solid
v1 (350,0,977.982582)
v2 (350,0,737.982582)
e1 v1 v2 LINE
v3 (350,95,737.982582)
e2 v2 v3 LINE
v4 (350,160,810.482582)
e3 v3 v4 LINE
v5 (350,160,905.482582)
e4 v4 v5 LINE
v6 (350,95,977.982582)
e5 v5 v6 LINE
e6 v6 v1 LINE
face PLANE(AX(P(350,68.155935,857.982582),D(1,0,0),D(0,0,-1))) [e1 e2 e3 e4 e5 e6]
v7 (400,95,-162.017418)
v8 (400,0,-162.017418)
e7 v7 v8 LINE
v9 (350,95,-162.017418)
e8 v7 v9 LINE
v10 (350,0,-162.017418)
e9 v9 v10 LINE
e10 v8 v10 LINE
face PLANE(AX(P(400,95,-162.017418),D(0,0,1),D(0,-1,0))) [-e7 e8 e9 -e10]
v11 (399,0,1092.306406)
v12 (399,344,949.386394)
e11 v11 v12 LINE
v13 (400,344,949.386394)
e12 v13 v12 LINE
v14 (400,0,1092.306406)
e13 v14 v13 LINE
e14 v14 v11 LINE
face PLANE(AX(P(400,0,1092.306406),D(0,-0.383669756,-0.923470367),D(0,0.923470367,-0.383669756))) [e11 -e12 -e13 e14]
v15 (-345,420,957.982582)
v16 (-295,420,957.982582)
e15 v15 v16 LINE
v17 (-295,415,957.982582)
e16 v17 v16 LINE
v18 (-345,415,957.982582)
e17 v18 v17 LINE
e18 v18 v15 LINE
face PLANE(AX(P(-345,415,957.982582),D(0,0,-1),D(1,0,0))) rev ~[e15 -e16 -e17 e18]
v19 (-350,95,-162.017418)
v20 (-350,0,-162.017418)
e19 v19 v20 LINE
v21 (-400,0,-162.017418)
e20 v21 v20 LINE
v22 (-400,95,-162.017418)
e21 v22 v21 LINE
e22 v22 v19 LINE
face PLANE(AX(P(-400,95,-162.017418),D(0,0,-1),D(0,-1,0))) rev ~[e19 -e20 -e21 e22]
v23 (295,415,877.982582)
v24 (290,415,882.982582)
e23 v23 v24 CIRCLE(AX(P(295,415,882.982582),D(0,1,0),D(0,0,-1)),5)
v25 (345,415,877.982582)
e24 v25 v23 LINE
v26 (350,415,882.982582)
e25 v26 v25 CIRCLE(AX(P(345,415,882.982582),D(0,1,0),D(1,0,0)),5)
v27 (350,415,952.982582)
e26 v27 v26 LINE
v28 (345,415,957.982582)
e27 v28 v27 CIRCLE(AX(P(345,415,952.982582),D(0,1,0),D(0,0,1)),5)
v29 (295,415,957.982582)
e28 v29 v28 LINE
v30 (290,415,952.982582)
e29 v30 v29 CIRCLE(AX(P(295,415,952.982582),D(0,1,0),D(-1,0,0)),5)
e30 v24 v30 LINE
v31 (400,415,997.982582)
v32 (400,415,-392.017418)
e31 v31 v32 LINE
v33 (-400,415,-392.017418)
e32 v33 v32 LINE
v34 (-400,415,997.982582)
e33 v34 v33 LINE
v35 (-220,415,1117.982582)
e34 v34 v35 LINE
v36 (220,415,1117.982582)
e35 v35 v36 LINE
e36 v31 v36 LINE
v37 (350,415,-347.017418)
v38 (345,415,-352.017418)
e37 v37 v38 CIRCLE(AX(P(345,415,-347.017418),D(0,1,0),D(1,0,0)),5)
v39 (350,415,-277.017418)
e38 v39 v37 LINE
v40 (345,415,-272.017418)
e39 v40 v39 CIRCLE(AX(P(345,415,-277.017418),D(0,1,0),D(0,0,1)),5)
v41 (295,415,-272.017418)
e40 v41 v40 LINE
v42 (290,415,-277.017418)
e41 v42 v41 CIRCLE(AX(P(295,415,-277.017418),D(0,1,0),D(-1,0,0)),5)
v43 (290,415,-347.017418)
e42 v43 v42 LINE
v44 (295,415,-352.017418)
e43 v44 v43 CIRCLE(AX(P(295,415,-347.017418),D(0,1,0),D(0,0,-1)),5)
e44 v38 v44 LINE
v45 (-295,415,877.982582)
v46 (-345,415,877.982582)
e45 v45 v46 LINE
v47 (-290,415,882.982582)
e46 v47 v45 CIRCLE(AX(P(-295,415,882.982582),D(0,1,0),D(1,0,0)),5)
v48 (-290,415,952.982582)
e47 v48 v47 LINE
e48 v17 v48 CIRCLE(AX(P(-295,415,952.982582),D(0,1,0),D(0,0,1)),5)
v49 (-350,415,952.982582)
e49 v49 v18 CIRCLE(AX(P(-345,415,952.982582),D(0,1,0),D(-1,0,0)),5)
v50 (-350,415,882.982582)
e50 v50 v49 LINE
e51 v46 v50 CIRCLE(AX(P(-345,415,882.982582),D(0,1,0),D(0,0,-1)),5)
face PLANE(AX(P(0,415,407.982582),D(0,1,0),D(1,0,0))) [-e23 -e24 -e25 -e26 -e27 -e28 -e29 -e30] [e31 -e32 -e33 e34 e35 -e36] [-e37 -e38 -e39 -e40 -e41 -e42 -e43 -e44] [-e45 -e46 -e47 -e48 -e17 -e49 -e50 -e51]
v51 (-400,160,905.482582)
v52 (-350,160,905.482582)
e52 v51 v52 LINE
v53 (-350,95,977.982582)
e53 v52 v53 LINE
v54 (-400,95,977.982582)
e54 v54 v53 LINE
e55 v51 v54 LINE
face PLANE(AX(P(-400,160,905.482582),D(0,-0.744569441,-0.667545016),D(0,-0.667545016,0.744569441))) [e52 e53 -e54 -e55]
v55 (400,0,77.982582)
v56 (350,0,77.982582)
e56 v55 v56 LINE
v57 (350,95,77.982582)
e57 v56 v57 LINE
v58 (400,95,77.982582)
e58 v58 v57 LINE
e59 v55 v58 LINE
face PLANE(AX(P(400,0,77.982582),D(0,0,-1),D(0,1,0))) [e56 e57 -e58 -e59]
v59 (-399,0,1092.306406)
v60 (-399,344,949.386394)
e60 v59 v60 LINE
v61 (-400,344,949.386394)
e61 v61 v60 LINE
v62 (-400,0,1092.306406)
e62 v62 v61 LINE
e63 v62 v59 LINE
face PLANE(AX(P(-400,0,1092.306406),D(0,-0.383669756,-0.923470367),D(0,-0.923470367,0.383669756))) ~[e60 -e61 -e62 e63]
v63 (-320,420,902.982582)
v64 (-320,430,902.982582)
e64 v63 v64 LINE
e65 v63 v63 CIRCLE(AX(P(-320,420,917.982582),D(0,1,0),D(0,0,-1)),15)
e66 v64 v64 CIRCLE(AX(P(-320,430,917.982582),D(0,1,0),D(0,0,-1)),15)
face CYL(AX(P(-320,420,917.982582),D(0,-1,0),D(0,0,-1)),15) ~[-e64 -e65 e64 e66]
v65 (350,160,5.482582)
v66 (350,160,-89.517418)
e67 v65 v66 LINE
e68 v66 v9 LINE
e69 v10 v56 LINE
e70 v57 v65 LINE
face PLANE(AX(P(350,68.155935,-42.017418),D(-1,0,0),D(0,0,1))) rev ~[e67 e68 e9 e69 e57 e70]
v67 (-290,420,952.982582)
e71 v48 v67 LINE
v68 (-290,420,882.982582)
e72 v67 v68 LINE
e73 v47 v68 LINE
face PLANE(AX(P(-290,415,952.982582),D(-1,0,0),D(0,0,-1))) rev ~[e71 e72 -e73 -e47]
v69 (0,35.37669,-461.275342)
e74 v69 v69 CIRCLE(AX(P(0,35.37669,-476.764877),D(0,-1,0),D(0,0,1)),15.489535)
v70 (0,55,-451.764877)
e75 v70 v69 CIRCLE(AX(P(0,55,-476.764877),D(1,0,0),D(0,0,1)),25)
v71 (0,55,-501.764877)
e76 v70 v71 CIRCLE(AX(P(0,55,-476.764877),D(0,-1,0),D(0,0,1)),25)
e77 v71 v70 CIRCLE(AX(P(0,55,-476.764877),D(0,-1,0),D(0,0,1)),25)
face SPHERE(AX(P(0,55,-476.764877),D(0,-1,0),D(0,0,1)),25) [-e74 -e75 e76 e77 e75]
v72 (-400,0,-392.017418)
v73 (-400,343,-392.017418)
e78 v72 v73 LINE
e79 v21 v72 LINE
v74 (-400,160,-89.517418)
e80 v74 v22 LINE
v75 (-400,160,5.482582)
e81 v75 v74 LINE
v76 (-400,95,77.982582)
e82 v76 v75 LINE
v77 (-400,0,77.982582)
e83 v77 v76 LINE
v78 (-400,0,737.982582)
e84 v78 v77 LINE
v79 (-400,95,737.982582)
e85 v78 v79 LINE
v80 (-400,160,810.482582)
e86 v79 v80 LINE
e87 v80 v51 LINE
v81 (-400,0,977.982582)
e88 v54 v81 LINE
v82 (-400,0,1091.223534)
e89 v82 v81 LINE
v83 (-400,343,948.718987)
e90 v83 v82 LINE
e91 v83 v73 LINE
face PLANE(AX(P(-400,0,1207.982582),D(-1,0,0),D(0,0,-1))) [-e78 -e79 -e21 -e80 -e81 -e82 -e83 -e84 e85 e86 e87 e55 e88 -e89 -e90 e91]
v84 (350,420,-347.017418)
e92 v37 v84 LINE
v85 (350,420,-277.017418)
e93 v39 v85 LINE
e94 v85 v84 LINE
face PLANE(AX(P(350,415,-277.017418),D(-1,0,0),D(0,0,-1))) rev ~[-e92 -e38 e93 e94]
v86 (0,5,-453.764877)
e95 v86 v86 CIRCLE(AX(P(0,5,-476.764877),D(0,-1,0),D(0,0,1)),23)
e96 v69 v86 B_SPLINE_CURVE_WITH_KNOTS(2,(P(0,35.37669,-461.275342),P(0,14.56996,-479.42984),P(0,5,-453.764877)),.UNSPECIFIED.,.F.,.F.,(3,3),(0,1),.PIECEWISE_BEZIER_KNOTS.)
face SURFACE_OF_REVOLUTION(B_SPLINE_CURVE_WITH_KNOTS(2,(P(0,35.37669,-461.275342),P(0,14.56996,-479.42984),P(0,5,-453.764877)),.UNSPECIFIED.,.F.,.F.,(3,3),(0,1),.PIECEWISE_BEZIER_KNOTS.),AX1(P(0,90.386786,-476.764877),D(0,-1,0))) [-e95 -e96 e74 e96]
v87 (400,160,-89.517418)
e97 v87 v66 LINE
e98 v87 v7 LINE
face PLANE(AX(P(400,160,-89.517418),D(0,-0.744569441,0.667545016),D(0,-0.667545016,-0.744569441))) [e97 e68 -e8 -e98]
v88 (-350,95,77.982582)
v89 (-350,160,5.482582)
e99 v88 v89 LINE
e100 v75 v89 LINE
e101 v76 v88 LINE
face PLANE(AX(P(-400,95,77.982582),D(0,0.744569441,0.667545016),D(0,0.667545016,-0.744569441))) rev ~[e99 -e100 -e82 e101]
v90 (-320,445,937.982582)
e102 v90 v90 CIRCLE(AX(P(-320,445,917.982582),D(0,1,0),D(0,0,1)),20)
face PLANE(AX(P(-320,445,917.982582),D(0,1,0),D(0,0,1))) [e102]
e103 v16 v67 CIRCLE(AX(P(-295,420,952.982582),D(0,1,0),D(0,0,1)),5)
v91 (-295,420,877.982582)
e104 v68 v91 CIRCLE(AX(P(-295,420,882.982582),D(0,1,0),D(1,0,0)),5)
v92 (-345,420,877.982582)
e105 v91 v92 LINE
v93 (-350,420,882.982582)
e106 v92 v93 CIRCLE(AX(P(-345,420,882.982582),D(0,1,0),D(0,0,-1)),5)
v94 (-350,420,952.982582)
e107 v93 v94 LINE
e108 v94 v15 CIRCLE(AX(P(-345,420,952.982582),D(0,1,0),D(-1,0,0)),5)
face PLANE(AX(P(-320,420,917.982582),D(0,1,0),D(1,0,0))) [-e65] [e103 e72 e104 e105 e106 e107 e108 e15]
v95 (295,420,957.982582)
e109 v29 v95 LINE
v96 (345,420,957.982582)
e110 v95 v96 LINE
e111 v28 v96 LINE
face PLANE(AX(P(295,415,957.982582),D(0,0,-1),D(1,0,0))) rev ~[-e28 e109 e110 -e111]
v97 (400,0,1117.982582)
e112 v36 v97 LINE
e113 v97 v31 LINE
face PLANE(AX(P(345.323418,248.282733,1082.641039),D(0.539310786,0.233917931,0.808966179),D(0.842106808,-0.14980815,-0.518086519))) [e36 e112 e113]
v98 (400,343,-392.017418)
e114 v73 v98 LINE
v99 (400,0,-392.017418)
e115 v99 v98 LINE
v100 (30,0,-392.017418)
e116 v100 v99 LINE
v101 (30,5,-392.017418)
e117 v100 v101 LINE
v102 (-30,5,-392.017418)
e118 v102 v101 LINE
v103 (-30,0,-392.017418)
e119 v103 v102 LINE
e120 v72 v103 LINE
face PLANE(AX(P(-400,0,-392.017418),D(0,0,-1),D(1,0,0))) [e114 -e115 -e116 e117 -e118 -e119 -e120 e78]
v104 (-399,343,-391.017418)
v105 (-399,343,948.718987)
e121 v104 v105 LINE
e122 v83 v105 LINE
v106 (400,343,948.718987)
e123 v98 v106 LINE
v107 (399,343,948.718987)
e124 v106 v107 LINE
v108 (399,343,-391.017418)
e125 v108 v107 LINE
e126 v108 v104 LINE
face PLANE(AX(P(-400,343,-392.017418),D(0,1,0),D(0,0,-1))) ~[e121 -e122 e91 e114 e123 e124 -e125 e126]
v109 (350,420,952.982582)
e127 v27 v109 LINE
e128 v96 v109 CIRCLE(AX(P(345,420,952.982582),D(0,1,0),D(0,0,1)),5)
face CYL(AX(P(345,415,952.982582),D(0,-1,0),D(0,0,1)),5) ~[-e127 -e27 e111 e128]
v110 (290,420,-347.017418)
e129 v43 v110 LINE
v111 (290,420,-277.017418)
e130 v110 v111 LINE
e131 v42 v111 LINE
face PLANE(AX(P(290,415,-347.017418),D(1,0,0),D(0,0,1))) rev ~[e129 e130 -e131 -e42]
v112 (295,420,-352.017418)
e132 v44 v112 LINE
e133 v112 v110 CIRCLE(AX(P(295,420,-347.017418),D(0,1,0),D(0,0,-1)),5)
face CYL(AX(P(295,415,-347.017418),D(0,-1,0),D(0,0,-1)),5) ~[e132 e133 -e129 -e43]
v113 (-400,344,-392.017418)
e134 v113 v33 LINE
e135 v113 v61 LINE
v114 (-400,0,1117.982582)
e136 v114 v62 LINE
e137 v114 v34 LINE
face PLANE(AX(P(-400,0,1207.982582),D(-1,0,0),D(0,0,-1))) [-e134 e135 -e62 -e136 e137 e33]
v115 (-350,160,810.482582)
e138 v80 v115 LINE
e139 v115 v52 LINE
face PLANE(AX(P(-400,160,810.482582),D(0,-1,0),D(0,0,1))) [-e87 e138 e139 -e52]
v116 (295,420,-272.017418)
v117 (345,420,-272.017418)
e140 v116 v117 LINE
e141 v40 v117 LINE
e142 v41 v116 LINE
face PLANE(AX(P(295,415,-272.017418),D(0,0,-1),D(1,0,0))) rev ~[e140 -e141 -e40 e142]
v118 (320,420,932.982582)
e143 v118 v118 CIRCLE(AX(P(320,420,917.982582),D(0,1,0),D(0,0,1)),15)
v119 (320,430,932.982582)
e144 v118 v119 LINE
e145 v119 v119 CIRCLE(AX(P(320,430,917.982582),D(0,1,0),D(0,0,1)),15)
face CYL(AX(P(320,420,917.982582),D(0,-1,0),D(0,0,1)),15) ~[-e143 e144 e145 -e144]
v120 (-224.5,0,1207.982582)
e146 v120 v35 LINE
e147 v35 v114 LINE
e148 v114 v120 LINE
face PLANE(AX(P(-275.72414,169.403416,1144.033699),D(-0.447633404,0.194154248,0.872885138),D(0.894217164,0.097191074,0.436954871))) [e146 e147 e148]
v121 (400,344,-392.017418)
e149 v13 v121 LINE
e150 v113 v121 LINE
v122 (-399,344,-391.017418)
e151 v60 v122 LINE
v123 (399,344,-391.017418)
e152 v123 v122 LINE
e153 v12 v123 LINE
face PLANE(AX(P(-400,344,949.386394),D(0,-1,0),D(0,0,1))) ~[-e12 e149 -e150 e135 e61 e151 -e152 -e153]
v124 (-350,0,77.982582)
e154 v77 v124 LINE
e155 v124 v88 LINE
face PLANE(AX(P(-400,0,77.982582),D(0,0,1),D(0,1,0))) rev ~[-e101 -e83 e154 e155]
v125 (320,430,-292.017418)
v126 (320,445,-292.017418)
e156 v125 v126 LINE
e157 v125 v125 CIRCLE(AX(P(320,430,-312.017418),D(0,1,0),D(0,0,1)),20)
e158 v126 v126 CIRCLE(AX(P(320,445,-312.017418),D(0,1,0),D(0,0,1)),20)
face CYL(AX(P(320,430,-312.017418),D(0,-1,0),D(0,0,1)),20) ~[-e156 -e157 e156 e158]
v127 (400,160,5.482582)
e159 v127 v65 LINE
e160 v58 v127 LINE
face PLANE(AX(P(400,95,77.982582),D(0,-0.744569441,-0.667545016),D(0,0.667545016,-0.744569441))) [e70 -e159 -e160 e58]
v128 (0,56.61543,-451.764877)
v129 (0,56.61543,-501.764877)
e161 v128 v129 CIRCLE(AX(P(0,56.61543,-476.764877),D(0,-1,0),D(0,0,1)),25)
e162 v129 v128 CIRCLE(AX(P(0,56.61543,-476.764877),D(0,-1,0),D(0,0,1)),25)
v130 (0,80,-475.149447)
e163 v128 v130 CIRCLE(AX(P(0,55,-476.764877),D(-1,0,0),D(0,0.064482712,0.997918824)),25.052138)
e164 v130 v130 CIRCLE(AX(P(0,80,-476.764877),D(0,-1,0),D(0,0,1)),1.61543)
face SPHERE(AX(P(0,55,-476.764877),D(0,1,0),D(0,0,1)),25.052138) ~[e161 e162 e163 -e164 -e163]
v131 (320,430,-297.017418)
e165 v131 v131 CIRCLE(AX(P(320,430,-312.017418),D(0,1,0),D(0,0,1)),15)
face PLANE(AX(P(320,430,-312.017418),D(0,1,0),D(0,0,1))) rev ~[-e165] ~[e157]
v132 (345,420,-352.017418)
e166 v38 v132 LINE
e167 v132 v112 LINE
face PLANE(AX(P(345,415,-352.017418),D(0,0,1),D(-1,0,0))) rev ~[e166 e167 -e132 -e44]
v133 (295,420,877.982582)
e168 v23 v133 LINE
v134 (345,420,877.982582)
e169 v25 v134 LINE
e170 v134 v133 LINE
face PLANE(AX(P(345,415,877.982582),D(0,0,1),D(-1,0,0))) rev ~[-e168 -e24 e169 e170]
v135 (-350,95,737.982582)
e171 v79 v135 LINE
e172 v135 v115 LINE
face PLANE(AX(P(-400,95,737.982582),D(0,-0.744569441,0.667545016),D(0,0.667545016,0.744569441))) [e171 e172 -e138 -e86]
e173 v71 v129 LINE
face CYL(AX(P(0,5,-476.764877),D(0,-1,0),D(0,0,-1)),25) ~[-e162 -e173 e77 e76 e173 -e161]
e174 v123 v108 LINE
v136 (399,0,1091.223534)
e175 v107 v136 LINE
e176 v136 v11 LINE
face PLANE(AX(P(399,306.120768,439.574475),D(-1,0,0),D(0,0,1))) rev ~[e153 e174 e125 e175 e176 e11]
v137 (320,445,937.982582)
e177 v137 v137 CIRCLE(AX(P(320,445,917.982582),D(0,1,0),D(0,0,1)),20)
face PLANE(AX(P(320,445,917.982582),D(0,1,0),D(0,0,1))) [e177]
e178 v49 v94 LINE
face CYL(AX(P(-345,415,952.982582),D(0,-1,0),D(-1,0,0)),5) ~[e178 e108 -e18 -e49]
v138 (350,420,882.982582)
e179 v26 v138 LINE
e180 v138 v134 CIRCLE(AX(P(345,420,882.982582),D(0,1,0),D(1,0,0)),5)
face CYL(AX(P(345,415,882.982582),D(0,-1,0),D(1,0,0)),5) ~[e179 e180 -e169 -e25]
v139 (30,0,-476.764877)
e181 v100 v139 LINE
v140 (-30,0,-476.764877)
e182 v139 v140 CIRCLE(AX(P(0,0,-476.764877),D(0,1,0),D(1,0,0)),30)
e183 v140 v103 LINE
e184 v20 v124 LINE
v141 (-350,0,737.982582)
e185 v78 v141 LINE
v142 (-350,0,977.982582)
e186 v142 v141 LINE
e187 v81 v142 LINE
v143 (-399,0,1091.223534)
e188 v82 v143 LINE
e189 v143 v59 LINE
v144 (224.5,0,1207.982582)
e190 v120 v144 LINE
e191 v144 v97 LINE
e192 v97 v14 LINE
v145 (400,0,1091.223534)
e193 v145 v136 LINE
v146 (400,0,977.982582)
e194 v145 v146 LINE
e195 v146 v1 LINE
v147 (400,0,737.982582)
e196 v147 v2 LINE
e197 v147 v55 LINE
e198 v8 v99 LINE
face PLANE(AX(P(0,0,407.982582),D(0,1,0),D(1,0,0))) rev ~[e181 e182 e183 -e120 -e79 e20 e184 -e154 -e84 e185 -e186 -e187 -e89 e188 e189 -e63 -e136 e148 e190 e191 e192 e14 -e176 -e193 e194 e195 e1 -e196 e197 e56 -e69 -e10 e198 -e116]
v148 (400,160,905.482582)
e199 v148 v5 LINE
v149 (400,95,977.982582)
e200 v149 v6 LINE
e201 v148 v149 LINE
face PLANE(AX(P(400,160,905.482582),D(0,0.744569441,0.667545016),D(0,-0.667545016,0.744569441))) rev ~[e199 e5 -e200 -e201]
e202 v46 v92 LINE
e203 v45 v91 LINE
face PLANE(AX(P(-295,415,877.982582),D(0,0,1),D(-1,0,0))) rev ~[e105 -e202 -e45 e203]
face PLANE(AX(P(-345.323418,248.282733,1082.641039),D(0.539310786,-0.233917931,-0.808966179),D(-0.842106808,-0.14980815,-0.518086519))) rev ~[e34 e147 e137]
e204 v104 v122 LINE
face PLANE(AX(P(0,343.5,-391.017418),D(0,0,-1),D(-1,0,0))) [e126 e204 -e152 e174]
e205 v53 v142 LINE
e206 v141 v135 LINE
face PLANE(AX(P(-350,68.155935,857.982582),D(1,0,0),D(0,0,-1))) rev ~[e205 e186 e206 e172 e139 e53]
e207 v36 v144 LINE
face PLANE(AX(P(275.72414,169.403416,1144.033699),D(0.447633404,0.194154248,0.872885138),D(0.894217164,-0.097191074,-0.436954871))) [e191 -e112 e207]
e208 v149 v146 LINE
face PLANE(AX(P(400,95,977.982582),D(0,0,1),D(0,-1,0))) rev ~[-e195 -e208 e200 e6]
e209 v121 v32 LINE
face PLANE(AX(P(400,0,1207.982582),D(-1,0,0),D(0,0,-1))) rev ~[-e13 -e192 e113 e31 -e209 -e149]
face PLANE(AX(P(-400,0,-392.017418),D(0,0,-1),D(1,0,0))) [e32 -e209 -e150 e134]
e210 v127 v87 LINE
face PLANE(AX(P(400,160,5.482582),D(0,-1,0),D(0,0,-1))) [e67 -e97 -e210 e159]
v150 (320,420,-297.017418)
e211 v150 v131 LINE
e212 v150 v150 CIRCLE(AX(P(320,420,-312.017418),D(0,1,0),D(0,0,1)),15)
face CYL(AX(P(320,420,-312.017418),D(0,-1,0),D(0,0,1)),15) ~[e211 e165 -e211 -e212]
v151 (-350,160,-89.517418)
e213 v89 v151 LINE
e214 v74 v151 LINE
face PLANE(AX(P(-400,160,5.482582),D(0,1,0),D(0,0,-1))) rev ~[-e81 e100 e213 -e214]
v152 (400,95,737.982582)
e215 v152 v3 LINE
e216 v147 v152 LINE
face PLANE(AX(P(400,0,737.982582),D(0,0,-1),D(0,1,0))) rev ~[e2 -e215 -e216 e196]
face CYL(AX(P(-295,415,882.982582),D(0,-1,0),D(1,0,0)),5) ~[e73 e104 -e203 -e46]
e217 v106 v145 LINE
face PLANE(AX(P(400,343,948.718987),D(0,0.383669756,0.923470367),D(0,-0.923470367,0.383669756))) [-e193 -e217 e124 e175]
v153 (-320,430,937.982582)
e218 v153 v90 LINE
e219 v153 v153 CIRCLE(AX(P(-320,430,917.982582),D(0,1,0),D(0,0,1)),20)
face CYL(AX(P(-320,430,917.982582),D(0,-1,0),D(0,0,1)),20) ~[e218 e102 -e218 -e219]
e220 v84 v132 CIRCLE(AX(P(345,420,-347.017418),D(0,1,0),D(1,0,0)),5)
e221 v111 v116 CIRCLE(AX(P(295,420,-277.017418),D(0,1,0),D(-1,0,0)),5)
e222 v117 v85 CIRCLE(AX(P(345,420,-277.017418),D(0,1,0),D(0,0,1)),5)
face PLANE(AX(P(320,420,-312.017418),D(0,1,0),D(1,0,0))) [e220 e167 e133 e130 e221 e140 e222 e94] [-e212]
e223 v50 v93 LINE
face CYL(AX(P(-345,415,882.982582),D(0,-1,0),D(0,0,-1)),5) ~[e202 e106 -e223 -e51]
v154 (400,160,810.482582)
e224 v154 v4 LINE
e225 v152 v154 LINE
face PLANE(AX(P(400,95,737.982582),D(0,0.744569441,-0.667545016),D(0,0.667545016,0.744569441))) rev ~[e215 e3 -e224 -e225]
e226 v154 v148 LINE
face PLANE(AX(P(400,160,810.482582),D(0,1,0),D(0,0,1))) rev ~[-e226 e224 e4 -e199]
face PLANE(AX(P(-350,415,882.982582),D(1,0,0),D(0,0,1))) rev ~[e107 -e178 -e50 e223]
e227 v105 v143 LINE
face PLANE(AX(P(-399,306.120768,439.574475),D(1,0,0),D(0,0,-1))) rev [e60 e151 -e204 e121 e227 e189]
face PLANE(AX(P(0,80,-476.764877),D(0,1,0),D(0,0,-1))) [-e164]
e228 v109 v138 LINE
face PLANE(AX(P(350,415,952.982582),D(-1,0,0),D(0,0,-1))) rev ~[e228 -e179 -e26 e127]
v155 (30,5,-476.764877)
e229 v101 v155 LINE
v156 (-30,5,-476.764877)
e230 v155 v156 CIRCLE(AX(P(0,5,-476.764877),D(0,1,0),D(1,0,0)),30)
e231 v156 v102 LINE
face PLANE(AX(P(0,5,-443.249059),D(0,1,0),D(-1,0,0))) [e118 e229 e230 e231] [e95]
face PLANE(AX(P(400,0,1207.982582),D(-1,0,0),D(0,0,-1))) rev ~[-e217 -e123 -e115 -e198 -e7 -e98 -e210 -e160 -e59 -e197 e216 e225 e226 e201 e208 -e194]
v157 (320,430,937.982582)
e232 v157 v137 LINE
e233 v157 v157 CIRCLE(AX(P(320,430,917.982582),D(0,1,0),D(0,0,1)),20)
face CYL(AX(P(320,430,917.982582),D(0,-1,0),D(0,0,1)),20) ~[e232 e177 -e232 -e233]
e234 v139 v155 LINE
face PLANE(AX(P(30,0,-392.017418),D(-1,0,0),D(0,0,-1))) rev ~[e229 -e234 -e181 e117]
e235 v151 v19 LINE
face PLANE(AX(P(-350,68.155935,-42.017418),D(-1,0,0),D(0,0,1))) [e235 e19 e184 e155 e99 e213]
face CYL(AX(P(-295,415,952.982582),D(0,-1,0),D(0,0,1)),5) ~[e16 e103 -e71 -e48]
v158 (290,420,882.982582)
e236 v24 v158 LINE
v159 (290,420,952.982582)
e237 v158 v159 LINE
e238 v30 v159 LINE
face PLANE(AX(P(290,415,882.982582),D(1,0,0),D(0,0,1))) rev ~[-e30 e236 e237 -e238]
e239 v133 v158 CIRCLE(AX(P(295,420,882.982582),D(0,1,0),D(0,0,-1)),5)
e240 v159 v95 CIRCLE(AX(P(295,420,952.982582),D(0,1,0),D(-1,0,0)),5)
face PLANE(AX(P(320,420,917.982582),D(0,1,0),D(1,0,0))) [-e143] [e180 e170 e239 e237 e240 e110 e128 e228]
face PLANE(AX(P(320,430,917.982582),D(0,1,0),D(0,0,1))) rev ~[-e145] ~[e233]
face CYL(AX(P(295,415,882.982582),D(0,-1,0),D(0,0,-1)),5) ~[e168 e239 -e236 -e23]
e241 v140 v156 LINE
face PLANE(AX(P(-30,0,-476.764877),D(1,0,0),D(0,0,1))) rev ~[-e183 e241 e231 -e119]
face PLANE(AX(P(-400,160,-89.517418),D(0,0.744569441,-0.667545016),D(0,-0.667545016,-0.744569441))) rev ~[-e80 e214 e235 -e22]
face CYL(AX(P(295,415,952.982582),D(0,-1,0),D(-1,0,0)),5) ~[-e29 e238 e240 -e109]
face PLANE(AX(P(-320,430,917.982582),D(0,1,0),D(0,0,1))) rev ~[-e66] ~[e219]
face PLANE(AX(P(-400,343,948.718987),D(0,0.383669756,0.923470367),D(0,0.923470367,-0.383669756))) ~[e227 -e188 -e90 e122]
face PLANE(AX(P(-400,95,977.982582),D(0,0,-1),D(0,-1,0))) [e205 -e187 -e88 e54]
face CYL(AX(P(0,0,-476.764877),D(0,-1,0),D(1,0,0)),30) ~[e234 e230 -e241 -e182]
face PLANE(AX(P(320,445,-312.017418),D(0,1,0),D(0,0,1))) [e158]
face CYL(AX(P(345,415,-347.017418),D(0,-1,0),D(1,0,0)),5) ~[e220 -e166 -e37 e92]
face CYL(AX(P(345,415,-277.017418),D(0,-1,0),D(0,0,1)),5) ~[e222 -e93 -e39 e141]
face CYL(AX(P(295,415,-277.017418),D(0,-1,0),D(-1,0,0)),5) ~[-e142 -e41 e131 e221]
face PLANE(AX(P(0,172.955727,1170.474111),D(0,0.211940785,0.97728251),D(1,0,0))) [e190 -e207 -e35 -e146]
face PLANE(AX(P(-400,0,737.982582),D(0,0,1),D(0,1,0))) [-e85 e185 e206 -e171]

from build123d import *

# Parameters (mm, degrees)
CROQUIS1_W              = 800
CROQUIS1_H              = 1600
SALIENTE_EXTRUIR1_DEPTH = 415
CORTAR_EXTRUIR1_DEPTH   = 200
CORTAR_EXTRUIR2_DEPTH   = 200
CORTAR_EXTRUIR6_DEPTH   = 499
CORTAR_EXTRUIR8_DEPTH   = 359
CORTAR_EXTRUIR10_DEPTH  = 353
CORTAR_EXTRUIR12_DEPTH  = 514
CORTAR_EXTRUIR13_DEPTH  = 514
CORTAR_EXTRUIR16_DEPTH  = 50
CORTAR_EXTRUIR17_DEPTH  = 50
CORTAR_EXTRUIR18_DEPTH  = 1
CROQUIS20_W             = 800
CROQUIS20_H             = 1
CORTAR_EXTRUIR19_DEPTH  = 1
SALIENTE_EXTRUIR2_DEPTH = 5
CROQUIS22_R             = 15
SALIENTE_EXTRUIR3_DEPTH = 10
CROQUIS23_R             = 20
SALIENTE_EXTRUIR4_DEPTH = 15
SALIENTE_EXTRUIR5_DEPTH = 5
CROQUIS26_R             = 25
SALIENTE_EXTRUIR6_DEPTH = 75


with BuildPart() as part:
    # Croquis1 → Saliente-Extruir1 (new body)
    with BuildSketch(Plane(origin=(0, 0, 0), x_dir=(1, 0, 0), z_dir=(0, 1, 0))):
        with Locations((0, -407.98258177)):
            Rectangle(CROQUIS1_W, CROQUIS1_H)
    extrude(amount=SALIENTE_EXTRUIR1_DEPTH)

    # Croquis3 → Cortar-Extruir1 (cut)
    with BuildSketch(Plane(origin=(604.100569287, 262.019524028, 906.150853931), x_dir=(-0.8421068082275548, 0.1498081502111445, 0.5180865194802076), z_dir=(-0.5393107856670403, -0.23391793113269235, -0.8089661785005605))):
        Polygon((456.118589156, 88.118028239), (242.368981337, -310.549885139), (242.368981337, 121.451272267), align=None)
    extrude(amount=-CORTAR_EXTRUIR1_DEPTH, mode=Mode.SUBTRACT)

    # Croquis5 → Cortar-Extruir2 (cut)
    with BuildSketch(Plane(origin=(-604.100569287, 262.019524028, 906.150853931), x_dir=(-0.8421068082275548, -0.1498081502111445, -0.5180865194802076), z_dir=(0.5393107856670404, -0.2339179311326923, -0.8089661785005605))):
        Polygon((-242.368981337, -310.549885139), (-242.368981337, 121.451272267), (-456.118589156, 88.118028239), align=None)
    extrude(amount=-CORTAR_EXTRUIR2_DEPTH, mode=Mode.SUBTRACT)

    # Croquis8 → Cortar-Extruir6 (cut)
    with BuildSketch(Plane(origin=(0, 250.204627362, 1153.721337281), x_dir=(-1, 0, 0), z_dir=(0, -0.21194078521367435, -0.9772825095963864))):
        Polygon((220, 168.626135247), (400, -256.020776905), (-400, -256.020776905), (-220, 168.626135247), (0, 168.626135247), align=None)
    extrude(amount=-CORTAR_EXTRUIR6_DEPTH, mode=Mode.SUBTRACT)

    # Croquis12 → Cortar-Extruir8 (cut)
    with BuildSketch(Plane.XY.offset(1117.98258177)):
        Polygon((220, 415), (400, 0), (400, 415), align=None)
    extrude(amount=CORTAR_EXTRUIR8_DEPTH, mode=Mode.SUBTRACT)

    # Croquis14 → Cortar-Extruir10 (cut)
    with BuildSketch(Plane.XY.offset(1117.98258177)):
        Polygon((-220, 415), (-400, 0), (-400, 415), align=None)
    extrude(amount=CORTAR_EXTRUIR10_DEPTH, mode=Mode.SUBTRACT)

    # Croquis15 → Cortar-Extruir12 (cut)
    with BuildSketch(Plane(origin=(516.98244579, 224.233349981, 1008.11576929), x_dir=(-0.8942171635698928, 0.0971910742249457, 0.4369548712029846), z_dir=(-0.44763340400043405, -0.19415424751826063, -0.8728851378008463))):
        Polygon((327.082120211, -262.279632659), (130.821069596, -242.738649788), (332.114454842, 162.361304614), align=None)
    extrude(amount=-CORTAR_EXTRUIR12_DEPTH, mode=Mode.SUBTRACT)


with BuildPart() as body_2:
    # of the pieces the cut leaves, the one that is kept (cortar_extruir12_keep)
    add(part.part.solids().sort_by_distance((-400, 0, 1207.98258177))[0])

    # Croquis16 → Cortar-Extruir13 (cut)
    with BuildSketch(Plane(origin=(-516.98244579, 224.233349981, 1008.11576929), x_dir=(-0.8942171635698928, -0.09719107422494568, -0.43695487120298454), z_dir=(0.44763340400043394, -0.19415424751826066, -0.8728851378008463))):
        Polygon((-327.082120211, -262.279632659), (-332.114454842, 162.361304614), (-130.821069596, -242.738649788), align=None)
    extrude(amount=-CORTAR_EXTRUIR13_DEPTH, mode=Mode.SUBTRACT)


with BuildPart() as body_2_2:
    # of the pieces the cut leaves, the one that is kept (cortar_extruir13_keep)
    add(body_2.part.solids().sort_by_distance((224.5, 0, 1207.98258177))[0])

    # Croquis17 → Cortar-Extruir16 (cut)
    with BuildSketch(Plane(origin=(400, 0, 0), x_dir=(0, 0, -1), z_dir=(1, 0, 0))):
        Polygon((162.01741823, 0), (-77.98258177, 0), (-77.98258177, 95), (-5.48258177, 160), (89.51741823, 160), (162.01741823, 95), align=None)
        Polygon((-977.98258177, 0), (-737.98258177, 0), (-737.98258177, 95), (-810.48258177, 160), (-905.48258177, 160), (-977.98258177, 95), align=None)
    extrude(amount=-CORTAR_EXTRUIR16_DEPTH, mode=Mode.SUBTRACT)

    # Croquis18 → Cortar-Extruir17 (cut)
    with BuildSketch(Plane.ZY.offset(400)):
        Polygon((-162.01741823, 0), (77.98258177, 0), (77.98258177, 95), (5.48258177, 160), (-89.51741823, 160), (-162.01741823, 95), align=None)
        Polygon((977.98258177, 0), (737.98258177, 0), (737.98258177, 95), (810.48258177, 160), (905.48258177, 160), (977.98258177, 95), align=None)
    extrude(amount=-CORTAR_EXTRUIR17_DEPTH, mode=Mode.SUBTRACT)

    # Croquis19 → Cortar-Extruir18 (cut)
    with BuildSketch(Plane(origin=(400, 0, 0), x_dir=(0, 0, -1), z_dir=(1, 0, 0))):
        Polygon((392.01741823, 343), (-948.718987098, 343), (-1091.223533976, 0), (-1092.306405756, 0), (-949.386393727, 344), (392.01741823, 344), align=None)
    cortar_extruir18 = extrude(amount=-CORTAR_EXTRUIR18_DEPTH, mode=Mode.SUBTRACT)

    # Croquis20 → Cortar-Extruir19 (cut)
    with BuildSketch(Plane(origin=(0, 0, -392.01741823), x_dir=(-1, 0, 0), z_dir=(0, 0, -1))):
        with Locations((0, 343.5)):
            Rectangle(CROQUIS20_W, CROQUIS20_H)
    extrude(amount=-CORTAR_EXTRUIR19_DEPTH, mode=Mode.SUBTRACT)

    # Simetría1: Cortar-Extruir18 across plane
    add(cortar_extruir18.mirror(Plane.ZY), mode=Mode.SUBTRACT)

    # Croquis21 → Saliente-Extruir2 (add)
    with BuildSketch(Plane(origin=(0, 415, 0), x_dir=(1, 0, 0), z_dir=(0, 1, 0))):
        with BuildLine():
            Line((295, 272.01741823), (345, 272.01741823))
            ThreePointArc((345, 272.01741823), (348.535533906, 273.481884325), (350, 277.01741823))
            Line((350, 277.01741823), (350, 347.01741823))
            ThreePointArc((350, 347.01741823), (348.535533906, 350.552952136), (345, 352.01741823))
            Line((345, 352.01741823), (295, 352.01741823))
            ThreePointArc((295, 352.01741823), (291.464466094, 350.552952136), (290, 347.01741823))
            Line((290, 347.01741823), (290, 277.01741823))
            ThreePointArc((290, 277.01741823), (291.464466094, 273.481884325), (295, 272.01741823))
        make_face()
        with BuildLine():
            Line((290, -882.98258177), (290, -952.98258177))
            ThreePointArc((290, -952.98258177), (291.464466094, -956.518115675), (295, -957.98258177))
            Line((295, -957.98258177), (345, -957.98258177))
            ThreePointArc((345, -957.98258177), (348.535533906, -956.518115675), (350, -952.98258177))
            Line((350, -952.98258177), (350, -882.98258177))
            ThreePointArc((350, -882.98258177), (348.535533906, -879.447047864), (345, -877.98258177))
            Line((345, -877.98258177), (295, -877.98258177))
            ThreePointArc((295, -877.98258177), (291.464466094, -879.447047864), (290, -882.98258177))
        make_face()
        with BuildLine():
            Line((-295, -877.98258177), (-345, -877.98258177))
            ThreePointArc((-345, -877.98258177), (-348.535533906, -879.447047864), (-350, -882.98258177))
            Line((-350, -882.98258177), (-350, -952.98258177))
            ThreePointArc((-350, -952.98258177), (-348.535533906, -956.518115675), (-345, -957.98258177))
            Line((-345, -957.98258177), (-295, -957.98258177))
            ThreePointArc((-295, -957.98258177), (-291.464466094, -956.518115675), (-290, -952.98258177))
            Line((-290, -952.98258177), (-290, -882.98258177))
            ThreePointArc((-290, -882.98258177), (-291.464466094, -879.447047864), (-295, -877.98258177))
        make_face()
    extrude(amount=SALIENTE_EXTRUIR2_DEPTH)

    # Croquis22 → Saliente-Extruir3 (add)
    with BuildSketch(Plane(origin=(0, 420, 0), x_dir=(1, 0, 0), z_dir=(0, 1, 0))):
        with Locations((320, 312.01741823)):
            Circle(CROQUIS22_R)
        with Locations((320, -917.98258177)):
            Circle(CROQUIS22_R)
        with Locations((-320, -917.98258177)):
            Circle(CROQUIS22_R)
    extrude(amount=SALIENTE_EXTRUIR3_DEPTH)

    # Croquis23 → Saliente-Extruir4 (add)
    with BuildSketch(Plane(origin=(0, 430, 0), x_dir=(1, 0, 0), z_dir=(0, 1, 0))):
        with Locations((320, 312.01741823)):
            Circle(CROQUIS23_R)
        with Locations((320, -917.98258177)):
            Circle(CROQUIS23_R)
        with Locations((-320, -917.98258177)):
            Circle(CROQUIS23_R)
    extrude(amount=SALIENTE_EXTRUIR4_DEPTH)

    # Croquis25 → Saliente-Extruir5 (add)
    with BuildSketch(Plane.XZ):
        with BuildLine():
            Line((-30, -476.764876907), (-30, -392.01741823))
            Line((-30, -392.01741823), (30, -392.01741823))
            Line((30, -392.01741823), (30, -476.764876907))
            ThreePointArc((30, -476.764876907), (0, -506.764876907), (-30, -476.764876907))
        make_face()
    extrude(amount=-SALIENTE_EXTRUIR5_DEPTH)

    # Croquis26 → Saliente-Extruir6 (add)
    with BuildSketch(Plane(origin=(0, 5, 0), x_dir=(1, 0, 0), z_dir=(0, 1, 0))):
        with Locations((0, 476.764876907)):
            Circle(CROQUIS26_R)
    extrude(amount=SALIENTE_EXTRUIR6_DEPTH)

    # Croquis28 → Cortar-Revolución7 (revolve, cut)
    with BuildSketch(Plane.ZY):
        with BuildLine():
            Line((-451.764876907, 5), (-451.764876907, 55))
            ThreePointArc((-451.764876907, 55), (-454.267783945, 44.096752398), (-461.275341569, 35.376690009))
            add(Edge.make_bspline(
                [(-461.275341569, 35.376690009), (-479.429840017, 14.56995995), (-453.764876907, 5)],
                knots=[0, 0, 0, 1, 1, 1], degree=2))
            Line((-453.764876907, 5), (-451.764876907, 5))
        make_face()
    revolve(axis=Axis((0, 90.386786237, -476.764876907), (0, -1, 0)), mode=Mode.SUBTRACT)

    # Croquis29 → Cortar-Revolución26 (revolve, cut)
    with BuildSketch(Plane.ZY):
        with BuildLine():
            Line((-475.149447102, 80), (-475.149447102, 84.514502028))
            Line((-475.149447102, 84.514502028), (-446.334832781, 84.514502028))
            Line((-446.334832781, 84.514502028), (-446.334832781, 57.478552518))
            Line((-446.334832781, 57.478552518), (-451.764876907, 56.615429804))
            ThreePointArc((-451.764876907, 56.615429804), (-459.050340313, 72.714536594), (-475.149447102, 80))
        make_face()
    revolve(axis=Axis((0, 80, -476.764876907), (0, -1, 0)), mode=Mode.SUBTRACT)


solid = body_2_2.part
